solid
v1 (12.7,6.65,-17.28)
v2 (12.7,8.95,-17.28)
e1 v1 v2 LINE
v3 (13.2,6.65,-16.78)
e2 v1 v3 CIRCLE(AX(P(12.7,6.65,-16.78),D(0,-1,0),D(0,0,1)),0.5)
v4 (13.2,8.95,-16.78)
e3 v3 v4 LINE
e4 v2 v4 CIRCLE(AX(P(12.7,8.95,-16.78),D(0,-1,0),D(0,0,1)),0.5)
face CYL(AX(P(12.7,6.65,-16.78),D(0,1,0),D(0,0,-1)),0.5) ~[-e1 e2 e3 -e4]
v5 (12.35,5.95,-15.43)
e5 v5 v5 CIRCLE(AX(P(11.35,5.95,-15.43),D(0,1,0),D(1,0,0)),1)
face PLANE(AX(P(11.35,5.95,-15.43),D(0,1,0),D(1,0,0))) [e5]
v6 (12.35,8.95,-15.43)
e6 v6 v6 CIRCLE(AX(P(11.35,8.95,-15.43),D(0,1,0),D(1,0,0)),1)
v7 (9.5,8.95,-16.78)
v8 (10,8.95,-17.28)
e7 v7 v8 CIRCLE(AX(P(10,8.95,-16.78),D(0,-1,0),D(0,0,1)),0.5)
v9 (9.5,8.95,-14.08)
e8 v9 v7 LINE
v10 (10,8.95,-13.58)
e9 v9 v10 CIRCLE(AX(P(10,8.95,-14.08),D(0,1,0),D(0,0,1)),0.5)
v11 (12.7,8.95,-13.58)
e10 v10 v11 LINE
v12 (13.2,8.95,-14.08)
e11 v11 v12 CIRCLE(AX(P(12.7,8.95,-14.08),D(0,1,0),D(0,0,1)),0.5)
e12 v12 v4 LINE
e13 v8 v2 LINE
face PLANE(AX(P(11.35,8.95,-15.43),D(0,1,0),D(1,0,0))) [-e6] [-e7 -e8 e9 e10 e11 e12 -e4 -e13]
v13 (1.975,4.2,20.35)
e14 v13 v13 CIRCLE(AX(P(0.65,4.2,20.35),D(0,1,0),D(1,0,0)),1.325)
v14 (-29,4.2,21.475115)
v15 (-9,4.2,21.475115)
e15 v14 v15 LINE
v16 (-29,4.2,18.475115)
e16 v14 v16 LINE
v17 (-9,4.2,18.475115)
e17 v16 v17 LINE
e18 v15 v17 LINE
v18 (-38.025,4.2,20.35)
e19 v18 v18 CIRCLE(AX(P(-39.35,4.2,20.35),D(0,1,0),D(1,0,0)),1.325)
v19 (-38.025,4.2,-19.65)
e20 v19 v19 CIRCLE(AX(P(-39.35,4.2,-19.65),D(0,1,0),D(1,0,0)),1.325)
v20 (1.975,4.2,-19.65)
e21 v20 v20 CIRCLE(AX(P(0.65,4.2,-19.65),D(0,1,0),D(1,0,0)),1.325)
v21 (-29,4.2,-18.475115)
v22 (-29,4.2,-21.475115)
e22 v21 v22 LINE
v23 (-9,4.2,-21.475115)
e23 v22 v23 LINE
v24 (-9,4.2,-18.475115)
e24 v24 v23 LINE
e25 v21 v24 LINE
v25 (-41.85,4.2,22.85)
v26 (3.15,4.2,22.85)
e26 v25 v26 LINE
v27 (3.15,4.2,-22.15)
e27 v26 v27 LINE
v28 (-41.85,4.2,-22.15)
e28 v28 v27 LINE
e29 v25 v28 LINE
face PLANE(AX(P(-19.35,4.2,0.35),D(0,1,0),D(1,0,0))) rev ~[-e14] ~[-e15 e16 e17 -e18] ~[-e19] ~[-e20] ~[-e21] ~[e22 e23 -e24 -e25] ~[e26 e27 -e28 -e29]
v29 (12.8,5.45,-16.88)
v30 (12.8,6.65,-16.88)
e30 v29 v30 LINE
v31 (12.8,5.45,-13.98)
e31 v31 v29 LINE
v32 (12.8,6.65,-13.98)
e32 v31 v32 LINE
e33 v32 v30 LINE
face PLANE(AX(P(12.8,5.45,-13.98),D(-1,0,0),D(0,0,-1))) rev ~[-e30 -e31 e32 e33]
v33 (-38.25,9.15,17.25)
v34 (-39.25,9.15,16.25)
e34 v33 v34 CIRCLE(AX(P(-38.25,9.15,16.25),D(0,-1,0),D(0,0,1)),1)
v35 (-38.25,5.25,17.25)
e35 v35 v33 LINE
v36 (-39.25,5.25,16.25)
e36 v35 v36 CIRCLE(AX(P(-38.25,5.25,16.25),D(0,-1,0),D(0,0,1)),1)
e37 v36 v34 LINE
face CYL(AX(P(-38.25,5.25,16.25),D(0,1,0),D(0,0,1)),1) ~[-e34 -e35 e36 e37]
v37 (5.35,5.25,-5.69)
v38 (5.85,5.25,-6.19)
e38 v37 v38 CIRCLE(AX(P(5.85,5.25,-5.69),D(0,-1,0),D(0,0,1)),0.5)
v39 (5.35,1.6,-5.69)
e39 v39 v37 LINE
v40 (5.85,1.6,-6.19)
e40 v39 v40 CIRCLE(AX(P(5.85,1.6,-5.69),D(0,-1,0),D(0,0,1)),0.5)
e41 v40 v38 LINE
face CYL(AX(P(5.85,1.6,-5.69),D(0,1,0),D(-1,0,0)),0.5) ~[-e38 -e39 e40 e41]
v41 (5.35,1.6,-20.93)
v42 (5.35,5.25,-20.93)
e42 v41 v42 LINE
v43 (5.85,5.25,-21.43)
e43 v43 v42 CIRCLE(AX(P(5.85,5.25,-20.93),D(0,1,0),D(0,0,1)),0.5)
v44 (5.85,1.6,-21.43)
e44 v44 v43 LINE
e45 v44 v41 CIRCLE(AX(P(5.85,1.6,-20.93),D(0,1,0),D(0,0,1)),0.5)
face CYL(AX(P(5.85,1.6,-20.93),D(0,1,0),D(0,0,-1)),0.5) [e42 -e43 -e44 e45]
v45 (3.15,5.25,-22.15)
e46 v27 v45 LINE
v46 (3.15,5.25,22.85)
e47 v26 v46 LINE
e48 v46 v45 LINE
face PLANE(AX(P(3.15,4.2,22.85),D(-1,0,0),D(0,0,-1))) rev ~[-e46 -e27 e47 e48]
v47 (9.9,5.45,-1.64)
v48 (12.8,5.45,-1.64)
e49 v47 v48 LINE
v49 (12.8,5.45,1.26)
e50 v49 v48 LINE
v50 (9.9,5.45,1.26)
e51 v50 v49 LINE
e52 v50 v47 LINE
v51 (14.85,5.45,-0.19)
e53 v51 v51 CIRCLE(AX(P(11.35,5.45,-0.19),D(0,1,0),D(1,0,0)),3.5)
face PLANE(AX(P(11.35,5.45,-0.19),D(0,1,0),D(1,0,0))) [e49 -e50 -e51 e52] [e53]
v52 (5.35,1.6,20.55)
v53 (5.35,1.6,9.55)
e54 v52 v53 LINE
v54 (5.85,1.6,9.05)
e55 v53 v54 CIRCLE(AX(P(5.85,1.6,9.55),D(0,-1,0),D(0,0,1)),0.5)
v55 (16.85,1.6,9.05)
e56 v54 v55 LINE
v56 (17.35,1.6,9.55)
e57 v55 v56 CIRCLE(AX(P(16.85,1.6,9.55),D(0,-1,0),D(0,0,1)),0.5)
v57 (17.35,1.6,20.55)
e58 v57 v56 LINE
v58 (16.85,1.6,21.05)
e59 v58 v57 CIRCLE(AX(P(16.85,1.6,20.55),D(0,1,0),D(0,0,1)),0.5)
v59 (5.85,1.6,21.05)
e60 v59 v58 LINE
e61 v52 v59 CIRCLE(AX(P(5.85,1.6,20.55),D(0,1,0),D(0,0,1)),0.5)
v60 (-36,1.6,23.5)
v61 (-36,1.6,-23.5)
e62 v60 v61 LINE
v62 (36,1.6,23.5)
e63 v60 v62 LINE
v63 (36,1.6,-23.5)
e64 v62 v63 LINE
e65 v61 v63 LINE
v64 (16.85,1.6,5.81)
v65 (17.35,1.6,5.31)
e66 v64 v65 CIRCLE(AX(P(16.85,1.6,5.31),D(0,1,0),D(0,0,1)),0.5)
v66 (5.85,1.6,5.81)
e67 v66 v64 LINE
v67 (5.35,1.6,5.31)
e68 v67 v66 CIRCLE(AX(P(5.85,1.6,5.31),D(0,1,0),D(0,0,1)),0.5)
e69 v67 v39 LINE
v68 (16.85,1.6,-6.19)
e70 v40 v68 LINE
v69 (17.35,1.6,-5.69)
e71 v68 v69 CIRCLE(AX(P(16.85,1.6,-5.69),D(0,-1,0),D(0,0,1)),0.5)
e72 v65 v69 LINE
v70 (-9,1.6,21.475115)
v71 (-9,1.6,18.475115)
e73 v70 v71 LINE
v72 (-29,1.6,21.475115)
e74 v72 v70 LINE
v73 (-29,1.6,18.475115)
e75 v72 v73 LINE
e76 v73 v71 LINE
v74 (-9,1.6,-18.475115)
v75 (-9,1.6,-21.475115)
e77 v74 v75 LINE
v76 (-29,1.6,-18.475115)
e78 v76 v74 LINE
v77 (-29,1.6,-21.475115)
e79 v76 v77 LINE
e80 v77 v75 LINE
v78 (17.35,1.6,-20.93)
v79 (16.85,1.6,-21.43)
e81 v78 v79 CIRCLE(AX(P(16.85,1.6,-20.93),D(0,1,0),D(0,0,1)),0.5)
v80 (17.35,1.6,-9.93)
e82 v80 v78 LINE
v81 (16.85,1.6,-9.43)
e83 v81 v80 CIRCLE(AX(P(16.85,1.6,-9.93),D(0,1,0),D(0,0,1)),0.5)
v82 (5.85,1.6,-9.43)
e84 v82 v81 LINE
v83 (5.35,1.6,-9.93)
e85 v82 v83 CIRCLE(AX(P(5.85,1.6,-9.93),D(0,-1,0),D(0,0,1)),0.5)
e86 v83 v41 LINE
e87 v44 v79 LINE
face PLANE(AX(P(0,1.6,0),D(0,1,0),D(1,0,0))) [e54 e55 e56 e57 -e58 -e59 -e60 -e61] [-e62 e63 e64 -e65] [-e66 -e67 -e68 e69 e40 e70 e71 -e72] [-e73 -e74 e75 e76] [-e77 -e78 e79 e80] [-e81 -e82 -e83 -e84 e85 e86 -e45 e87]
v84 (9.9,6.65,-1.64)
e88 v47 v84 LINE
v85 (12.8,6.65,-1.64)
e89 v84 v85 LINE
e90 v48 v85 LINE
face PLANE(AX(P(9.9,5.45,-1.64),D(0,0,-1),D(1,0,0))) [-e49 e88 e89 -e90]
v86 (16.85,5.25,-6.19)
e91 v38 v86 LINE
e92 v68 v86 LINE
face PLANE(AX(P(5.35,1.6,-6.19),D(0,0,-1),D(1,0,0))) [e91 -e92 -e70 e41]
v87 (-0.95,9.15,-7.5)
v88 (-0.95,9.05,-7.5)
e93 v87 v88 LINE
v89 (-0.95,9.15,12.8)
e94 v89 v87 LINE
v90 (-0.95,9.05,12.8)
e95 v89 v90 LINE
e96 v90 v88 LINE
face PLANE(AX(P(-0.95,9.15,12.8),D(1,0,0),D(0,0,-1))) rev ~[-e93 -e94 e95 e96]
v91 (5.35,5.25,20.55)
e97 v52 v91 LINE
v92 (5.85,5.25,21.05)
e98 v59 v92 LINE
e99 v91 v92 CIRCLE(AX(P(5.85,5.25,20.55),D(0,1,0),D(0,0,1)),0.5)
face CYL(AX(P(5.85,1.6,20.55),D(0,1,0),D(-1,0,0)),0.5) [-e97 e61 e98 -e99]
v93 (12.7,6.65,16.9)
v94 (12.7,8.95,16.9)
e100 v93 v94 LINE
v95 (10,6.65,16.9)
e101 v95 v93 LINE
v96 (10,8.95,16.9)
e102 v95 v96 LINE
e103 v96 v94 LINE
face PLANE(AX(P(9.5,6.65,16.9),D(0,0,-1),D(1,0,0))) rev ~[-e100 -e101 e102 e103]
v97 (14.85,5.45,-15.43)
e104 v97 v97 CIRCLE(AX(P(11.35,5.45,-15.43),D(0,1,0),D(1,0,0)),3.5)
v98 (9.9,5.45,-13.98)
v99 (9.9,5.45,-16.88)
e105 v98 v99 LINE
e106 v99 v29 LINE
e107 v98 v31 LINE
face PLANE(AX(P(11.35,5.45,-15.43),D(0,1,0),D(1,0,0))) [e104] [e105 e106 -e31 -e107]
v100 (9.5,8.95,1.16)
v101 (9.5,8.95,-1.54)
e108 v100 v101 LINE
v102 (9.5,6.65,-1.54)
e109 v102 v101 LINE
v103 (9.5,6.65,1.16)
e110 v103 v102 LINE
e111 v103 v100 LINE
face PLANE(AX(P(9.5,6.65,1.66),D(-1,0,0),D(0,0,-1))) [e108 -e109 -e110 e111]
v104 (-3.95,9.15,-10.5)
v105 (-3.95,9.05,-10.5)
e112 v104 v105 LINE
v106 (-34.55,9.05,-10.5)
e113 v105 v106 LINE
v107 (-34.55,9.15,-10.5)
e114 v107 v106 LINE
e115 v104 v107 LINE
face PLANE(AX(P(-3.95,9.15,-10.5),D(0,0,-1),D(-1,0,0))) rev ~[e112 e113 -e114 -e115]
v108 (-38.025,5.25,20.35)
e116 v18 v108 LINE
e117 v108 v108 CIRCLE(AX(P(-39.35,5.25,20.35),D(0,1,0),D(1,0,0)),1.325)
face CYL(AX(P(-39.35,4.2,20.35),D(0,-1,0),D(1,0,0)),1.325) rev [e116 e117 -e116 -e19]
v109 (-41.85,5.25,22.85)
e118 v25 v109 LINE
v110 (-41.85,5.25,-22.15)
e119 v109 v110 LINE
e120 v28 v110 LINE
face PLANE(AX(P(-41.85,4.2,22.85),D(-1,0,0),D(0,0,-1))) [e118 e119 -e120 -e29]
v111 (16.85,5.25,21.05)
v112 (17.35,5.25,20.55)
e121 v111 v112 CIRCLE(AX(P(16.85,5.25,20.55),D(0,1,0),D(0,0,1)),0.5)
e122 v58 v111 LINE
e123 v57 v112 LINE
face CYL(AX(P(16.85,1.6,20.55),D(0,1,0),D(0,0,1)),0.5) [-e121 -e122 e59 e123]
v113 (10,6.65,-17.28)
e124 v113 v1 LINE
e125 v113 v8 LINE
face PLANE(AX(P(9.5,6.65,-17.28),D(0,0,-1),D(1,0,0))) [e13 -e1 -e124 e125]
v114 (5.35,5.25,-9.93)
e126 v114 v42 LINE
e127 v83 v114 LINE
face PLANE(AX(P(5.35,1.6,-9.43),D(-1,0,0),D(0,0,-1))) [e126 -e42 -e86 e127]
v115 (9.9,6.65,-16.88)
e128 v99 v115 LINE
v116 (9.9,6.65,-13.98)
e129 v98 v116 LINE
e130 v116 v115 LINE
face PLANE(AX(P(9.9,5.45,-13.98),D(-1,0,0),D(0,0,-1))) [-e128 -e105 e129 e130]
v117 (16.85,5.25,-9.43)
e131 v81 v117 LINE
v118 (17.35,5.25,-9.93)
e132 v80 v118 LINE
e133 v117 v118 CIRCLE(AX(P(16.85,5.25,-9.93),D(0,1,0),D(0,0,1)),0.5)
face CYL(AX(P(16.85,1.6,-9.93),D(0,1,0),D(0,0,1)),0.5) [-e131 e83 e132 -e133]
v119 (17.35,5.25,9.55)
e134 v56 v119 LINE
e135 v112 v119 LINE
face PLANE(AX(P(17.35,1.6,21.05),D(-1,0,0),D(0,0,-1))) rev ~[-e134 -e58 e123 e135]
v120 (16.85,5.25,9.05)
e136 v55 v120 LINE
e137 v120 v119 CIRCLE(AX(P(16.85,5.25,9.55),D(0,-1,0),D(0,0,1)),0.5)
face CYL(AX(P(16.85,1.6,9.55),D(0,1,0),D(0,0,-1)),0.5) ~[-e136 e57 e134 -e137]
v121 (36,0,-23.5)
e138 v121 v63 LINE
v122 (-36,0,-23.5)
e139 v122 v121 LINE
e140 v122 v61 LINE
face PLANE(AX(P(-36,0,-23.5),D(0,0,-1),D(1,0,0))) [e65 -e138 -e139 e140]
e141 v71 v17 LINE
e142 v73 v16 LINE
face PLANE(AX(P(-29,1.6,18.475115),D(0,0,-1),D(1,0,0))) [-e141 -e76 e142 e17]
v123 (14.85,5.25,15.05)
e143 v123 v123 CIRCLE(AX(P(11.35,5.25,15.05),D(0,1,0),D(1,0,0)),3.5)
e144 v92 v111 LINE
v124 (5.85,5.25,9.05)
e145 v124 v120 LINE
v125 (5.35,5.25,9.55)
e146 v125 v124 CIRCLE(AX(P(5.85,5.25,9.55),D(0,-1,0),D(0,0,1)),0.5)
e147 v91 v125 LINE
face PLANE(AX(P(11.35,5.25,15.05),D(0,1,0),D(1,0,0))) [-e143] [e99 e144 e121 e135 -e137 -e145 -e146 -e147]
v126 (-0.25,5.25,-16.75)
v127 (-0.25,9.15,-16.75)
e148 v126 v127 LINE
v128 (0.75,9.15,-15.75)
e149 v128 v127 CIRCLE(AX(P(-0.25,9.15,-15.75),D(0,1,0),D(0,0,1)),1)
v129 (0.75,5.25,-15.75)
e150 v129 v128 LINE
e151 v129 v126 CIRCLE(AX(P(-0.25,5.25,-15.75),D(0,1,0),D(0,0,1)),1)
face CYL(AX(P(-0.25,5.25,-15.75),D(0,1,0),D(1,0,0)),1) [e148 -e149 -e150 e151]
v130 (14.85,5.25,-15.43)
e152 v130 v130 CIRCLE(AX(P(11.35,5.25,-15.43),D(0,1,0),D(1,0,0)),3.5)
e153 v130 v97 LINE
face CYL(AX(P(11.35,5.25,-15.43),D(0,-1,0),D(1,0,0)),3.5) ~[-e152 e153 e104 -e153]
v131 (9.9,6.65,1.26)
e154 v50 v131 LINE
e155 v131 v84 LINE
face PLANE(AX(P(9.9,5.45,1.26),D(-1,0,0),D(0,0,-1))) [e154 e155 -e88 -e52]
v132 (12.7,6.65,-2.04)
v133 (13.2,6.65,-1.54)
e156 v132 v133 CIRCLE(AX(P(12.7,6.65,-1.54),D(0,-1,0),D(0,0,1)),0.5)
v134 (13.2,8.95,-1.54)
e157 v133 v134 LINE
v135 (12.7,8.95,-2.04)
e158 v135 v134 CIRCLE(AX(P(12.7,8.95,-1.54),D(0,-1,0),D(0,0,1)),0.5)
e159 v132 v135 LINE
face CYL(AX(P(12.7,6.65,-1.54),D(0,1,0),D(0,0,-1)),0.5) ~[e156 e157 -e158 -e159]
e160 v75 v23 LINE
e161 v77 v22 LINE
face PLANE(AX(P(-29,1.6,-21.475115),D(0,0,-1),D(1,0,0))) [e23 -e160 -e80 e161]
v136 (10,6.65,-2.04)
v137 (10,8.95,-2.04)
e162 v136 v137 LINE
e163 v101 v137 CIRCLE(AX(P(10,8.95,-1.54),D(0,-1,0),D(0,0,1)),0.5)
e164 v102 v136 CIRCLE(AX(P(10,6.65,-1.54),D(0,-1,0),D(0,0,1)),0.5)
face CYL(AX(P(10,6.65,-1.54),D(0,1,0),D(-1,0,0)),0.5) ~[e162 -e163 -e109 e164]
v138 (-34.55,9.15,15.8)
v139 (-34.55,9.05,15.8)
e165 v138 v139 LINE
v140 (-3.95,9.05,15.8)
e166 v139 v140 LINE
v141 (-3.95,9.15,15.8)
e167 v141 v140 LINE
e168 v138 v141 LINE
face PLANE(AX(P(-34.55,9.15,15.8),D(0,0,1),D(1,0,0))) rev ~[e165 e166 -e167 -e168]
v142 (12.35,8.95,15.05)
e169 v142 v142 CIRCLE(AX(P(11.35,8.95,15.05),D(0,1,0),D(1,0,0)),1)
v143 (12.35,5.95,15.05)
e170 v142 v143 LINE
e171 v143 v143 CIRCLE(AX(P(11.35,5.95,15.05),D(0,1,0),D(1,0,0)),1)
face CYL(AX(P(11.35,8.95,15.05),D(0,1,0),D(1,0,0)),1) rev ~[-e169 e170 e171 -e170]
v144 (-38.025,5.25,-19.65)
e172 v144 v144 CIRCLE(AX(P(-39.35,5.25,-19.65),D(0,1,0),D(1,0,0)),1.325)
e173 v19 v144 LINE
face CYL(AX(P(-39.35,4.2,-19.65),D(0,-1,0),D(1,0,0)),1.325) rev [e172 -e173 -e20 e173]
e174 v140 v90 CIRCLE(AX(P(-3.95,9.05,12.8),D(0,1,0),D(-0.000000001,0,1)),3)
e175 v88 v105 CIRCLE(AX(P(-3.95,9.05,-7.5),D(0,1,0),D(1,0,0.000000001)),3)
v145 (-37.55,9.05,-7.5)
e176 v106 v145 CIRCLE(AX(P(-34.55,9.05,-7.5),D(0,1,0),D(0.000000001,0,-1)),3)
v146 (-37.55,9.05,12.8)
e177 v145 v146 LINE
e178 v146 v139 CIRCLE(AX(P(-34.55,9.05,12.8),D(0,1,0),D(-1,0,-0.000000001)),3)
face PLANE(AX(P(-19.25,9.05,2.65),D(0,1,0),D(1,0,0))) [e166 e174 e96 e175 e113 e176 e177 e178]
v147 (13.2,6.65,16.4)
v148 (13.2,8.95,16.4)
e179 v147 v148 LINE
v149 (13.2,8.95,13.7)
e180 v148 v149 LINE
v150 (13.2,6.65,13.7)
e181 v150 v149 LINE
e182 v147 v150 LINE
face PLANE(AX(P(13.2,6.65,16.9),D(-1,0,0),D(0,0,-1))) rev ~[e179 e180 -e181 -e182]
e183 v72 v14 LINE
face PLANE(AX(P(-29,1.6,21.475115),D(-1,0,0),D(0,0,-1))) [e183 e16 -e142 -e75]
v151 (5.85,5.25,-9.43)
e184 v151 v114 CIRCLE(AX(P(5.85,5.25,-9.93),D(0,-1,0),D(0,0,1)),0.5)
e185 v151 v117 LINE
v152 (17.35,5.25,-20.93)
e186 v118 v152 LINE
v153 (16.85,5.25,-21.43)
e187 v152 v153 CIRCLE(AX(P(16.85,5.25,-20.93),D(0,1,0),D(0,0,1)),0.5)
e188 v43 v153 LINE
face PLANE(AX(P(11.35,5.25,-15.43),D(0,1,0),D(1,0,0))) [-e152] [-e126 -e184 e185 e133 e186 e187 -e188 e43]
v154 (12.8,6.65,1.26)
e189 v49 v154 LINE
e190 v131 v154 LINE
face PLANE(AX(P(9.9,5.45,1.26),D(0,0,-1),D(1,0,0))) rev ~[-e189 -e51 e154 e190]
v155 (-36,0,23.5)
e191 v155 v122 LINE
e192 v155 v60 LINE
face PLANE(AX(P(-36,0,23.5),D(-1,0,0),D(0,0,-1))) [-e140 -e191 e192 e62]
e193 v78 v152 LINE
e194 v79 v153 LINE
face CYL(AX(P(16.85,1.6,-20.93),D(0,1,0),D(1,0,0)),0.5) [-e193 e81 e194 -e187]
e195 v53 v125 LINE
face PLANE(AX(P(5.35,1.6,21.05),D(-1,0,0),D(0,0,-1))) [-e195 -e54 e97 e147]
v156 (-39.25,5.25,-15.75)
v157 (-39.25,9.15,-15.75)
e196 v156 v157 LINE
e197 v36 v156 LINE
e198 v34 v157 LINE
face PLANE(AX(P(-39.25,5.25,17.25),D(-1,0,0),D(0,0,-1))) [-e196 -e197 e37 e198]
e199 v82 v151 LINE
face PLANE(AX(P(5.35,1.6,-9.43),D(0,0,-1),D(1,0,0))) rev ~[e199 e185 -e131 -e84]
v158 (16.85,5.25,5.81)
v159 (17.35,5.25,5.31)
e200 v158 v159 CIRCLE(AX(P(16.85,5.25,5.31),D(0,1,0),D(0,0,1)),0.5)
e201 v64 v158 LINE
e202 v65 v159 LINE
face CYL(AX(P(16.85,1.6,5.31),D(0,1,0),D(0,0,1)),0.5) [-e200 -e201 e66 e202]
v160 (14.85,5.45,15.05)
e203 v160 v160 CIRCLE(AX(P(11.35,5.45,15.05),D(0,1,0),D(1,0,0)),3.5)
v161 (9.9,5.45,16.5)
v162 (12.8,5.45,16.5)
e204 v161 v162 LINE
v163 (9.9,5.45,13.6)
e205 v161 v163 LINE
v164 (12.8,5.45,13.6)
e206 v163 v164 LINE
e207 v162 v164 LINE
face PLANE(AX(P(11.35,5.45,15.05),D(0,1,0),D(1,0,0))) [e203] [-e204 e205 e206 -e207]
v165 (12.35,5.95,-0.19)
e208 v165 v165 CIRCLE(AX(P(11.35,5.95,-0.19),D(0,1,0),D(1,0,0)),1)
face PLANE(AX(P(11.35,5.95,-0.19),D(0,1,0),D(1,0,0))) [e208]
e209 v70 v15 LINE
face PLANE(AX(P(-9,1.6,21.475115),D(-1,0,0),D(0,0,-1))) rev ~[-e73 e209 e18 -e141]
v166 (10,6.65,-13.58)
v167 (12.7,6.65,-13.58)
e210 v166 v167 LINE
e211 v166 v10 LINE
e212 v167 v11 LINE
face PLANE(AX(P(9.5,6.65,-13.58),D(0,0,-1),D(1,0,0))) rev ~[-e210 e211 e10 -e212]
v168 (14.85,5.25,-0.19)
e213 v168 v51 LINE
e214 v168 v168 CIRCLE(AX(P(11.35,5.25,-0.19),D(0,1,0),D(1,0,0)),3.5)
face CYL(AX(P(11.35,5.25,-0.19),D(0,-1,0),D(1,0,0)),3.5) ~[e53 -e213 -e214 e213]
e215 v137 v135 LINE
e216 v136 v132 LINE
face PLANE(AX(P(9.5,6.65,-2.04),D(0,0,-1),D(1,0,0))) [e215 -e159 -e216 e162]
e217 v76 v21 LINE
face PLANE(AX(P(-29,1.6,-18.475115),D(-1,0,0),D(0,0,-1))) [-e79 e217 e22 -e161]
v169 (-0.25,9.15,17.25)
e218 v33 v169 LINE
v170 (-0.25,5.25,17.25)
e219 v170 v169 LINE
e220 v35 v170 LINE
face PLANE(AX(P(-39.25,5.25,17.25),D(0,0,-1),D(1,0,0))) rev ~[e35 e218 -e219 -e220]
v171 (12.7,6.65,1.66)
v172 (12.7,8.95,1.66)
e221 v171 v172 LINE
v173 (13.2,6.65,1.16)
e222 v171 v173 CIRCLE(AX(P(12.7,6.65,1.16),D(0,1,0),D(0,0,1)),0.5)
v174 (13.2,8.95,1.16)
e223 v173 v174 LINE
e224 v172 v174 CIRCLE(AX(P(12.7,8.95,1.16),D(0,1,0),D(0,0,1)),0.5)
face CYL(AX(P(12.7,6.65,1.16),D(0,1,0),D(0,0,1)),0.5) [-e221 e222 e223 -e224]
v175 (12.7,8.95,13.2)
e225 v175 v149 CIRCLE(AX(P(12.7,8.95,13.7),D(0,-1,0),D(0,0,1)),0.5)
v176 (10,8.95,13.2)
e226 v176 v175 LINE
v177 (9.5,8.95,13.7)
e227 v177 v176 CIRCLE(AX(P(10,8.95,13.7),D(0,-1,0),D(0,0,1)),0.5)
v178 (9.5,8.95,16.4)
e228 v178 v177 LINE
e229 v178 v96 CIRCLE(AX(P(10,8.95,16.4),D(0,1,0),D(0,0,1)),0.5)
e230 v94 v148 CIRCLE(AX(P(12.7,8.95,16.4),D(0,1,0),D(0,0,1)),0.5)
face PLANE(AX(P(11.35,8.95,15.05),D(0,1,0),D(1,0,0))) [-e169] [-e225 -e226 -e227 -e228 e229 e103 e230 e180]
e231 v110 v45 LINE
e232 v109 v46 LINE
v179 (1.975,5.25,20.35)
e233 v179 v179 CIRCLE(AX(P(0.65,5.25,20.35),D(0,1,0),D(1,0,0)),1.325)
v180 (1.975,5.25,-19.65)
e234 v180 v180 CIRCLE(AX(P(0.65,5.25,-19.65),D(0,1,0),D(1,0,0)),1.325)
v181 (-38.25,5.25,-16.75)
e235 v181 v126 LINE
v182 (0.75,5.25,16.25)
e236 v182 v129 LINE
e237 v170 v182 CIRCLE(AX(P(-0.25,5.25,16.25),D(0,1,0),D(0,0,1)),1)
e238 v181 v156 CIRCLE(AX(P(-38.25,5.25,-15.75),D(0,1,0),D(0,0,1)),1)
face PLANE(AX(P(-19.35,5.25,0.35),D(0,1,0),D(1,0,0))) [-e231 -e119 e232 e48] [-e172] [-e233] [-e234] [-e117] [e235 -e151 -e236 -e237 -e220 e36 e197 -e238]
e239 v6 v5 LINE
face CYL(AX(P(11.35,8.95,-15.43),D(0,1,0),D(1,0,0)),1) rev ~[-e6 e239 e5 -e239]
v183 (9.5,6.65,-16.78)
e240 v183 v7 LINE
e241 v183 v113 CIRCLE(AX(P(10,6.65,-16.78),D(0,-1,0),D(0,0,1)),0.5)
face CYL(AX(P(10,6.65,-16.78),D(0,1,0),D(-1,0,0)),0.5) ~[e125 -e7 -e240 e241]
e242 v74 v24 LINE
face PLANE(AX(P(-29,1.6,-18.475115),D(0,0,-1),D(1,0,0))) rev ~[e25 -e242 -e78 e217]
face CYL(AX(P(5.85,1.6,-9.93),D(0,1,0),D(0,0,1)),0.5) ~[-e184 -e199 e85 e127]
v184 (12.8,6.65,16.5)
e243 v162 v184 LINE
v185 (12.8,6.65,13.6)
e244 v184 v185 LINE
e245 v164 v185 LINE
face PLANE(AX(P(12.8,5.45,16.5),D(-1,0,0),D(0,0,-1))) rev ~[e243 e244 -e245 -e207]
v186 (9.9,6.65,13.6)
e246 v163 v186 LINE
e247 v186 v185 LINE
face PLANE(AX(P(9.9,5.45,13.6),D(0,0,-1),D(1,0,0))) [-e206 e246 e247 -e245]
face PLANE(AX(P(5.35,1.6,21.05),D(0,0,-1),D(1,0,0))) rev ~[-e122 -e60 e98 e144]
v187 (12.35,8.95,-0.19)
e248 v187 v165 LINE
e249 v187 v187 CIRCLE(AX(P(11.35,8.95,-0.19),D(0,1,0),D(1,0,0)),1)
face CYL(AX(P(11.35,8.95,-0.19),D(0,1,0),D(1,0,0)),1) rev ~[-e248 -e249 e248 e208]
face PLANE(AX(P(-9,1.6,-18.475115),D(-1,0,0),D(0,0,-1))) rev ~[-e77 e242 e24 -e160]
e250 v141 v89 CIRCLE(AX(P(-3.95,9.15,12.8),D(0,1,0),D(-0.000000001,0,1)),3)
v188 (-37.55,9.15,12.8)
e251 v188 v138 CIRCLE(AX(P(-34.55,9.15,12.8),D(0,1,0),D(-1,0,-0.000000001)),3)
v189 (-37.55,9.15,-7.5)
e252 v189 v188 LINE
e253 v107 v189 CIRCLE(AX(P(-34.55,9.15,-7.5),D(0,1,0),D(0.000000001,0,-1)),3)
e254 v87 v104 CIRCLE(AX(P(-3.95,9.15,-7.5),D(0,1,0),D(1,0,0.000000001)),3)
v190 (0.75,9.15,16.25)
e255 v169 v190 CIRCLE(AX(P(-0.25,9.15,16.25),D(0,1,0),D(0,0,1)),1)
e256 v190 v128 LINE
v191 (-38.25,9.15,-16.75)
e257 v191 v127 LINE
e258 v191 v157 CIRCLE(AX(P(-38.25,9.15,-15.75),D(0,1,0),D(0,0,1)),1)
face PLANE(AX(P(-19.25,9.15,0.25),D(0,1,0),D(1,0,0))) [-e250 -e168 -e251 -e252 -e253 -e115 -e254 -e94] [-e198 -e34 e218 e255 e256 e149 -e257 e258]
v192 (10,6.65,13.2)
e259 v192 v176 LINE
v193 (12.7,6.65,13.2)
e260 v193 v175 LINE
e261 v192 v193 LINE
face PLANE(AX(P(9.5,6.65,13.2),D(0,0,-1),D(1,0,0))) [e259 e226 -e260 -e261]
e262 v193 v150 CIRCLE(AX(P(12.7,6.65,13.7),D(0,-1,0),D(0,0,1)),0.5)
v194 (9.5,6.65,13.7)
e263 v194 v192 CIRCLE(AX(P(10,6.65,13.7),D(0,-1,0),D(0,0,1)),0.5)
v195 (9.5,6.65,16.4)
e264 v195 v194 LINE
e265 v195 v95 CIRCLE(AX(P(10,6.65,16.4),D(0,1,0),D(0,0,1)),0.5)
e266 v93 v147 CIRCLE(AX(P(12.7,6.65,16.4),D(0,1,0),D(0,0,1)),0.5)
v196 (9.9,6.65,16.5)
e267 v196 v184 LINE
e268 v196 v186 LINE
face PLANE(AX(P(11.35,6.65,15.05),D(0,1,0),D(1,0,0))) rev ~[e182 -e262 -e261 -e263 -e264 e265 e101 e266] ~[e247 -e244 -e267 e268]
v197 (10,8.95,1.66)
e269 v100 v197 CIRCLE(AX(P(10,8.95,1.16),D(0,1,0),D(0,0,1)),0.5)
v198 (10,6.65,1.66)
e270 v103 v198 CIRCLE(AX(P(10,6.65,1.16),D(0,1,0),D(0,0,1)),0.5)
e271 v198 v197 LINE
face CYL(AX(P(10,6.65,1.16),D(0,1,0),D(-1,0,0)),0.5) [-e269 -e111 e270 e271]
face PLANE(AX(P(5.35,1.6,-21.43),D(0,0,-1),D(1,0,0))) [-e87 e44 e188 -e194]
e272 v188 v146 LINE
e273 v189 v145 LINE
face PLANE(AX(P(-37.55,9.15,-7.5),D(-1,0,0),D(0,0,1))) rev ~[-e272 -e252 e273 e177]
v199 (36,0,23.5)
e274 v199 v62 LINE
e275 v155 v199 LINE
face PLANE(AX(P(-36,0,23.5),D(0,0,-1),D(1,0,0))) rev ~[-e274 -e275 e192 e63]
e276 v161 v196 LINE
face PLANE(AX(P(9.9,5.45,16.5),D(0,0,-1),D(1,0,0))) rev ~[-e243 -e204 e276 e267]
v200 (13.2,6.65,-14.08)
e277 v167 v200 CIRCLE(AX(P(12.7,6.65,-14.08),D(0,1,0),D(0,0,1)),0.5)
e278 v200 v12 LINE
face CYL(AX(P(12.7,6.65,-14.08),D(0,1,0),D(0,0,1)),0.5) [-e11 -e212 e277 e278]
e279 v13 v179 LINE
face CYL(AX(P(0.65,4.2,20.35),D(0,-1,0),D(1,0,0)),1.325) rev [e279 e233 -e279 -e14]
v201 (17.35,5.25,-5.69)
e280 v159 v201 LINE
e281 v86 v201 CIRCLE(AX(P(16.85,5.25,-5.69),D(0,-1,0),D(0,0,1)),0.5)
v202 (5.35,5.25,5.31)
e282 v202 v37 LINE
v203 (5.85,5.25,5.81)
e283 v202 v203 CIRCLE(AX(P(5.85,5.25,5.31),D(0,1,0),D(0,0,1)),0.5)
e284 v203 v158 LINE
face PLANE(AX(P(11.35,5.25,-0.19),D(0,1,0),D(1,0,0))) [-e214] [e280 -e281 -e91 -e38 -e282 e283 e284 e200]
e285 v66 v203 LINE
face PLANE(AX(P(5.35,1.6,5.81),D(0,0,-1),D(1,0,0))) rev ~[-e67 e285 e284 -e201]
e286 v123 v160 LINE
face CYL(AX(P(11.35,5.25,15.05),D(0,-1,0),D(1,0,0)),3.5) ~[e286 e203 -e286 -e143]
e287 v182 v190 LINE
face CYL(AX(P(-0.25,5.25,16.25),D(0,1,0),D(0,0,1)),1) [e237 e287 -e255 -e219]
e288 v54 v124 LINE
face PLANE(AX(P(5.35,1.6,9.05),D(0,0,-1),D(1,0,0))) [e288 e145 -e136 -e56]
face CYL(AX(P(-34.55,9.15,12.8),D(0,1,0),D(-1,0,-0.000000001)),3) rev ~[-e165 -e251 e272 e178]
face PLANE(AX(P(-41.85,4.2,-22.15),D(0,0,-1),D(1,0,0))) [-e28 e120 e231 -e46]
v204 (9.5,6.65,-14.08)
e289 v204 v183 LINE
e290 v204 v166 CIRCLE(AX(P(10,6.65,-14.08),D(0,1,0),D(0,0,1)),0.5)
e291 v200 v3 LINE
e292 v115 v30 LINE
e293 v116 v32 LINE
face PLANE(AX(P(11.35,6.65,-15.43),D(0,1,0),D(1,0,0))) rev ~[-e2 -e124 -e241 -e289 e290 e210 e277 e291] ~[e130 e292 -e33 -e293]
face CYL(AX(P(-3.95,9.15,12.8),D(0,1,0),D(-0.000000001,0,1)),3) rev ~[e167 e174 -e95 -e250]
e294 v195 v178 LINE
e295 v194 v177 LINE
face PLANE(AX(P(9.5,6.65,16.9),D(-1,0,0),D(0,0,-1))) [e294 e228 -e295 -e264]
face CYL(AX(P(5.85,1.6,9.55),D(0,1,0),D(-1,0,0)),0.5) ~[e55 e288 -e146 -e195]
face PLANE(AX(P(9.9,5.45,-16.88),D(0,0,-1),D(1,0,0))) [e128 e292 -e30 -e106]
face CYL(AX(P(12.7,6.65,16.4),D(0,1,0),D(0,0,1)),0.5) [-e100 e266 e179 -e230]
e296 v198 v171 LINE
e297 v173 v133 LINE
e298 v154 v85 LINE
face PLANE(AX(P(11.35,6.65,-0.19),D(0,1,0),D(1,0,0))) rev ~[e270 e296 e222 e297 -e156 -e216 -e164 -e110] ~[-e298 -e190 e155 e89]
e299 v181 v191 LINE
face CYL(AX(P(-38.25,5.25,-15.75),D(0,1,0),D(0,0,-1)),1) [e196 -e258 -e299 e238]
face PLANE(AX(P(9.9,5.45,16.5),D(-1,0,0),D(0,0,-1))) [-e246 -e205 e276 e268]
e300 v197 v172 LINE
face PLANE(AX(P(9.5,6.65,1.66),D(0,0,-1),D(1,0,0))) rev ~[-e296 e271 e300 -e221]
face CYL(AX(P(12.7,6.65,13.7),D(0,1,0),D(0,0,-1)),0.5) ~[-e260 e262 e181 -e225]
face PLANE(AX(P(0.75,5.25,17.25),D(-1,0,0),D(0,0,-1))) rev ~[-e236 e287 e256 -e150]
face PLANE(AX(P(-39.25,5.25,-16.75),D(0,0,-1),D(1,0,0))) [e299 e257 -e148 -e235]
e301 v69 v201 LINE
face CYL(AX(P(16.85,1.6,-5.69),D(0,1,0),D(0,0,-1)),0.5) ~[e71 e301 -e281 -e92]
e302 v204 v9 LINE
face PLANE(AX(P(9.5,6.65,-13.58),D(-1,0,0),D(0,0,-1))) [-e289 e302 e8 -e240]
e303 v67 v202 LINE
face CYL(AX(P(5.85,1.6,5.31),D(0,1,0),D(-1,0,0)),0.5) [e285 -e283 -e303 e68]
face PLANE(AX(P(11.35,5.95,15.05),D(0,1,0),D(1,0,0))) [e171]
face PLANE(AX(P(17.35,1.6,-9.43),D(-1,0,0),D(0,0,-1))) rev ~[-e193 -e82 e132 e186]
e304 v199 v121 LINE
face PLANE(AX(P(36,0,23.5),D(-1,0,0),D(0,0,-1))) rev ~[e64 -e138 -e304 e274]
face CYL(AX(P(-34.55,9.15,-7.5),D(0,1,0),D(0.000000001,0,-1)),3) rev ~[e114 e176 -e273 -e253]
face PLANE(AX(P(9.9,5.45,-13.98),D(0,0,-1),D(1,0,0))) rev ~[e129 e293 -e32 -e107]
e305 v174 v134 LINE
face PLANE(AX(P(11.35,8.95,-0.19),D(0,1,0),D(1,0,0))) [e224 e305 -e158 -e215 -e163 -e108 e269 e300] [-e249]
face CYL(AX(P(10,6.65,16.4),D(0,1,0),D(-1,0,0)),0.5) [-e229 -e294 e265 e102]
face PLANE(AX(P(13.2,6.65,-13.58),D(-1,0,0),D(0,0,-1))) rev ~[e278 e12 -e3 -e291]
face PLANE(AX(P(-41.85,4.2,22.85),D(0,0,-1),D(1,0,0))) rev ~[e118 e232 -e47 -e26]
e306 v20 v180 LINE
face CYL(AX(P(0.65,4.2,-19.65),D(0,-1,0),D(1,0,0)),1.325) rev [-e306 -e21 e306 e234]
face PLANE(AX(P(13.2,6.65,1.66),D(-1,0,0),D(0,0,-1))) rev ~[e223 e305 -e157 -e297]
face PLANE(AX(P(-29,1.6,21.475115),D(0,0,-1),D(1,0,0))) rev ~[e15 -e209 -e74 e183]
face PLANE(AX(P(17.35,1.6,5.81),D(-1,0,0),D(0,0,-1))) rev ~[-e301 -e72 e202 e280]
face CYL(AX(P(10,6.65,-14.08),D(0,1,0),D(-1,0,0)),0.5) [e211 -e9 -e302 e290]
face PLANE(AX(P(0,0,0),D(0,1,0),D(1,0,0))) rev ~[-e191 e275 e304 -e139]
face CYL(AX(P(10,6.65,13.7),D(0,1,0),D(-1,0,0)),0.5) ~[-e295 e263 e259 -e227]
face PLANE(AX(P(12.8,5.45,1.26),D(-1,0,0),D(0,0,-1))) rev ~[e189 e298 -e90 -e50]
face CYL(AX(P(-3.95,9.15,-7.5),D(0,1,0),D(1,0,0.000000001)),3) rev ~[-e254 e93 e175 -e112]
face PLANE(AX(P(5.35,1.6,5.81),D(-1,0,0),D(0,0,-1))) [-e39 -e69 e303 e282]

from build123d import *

# Parameters (mm, degrees)
SKETCH1_W              = 72
SKETCH1_H              = 47
BOSS_EXTRUDE1_DEPTH    = 1.6
SKETCH2_W              = 20
SKETCH2_H              = 3
BOSS_EXTRUDE2_DEPTH    = 2.6
SKETCH3_W              = 45
SKETCH3_H              = 45
SKETCH3_R              = 1.325
BOSS_EXTRUDE3_DEPTH    = 1.05
SKETCH4_W              = 40
SKETCH4_H              = 34
BOSS_EXTRUDE4_DEPTH    = 3.9
CUT_EXTRUDE1_DEPTH     = 0.1
FILLET1_R              = 1
SKETCH6_W              = 12
SKETCH6_H              = 12
BOSS_EXTRUDE5_DEPTH    = 3.65
SKETCH7_R              = 3.5
BOSS_EXTRUDE6_DEPTH    = 0.2
SKETCH8_W              = 2.9
SKETCH8_H              = 2.9
BOSS_EXTRUDE7_DEPTH    = 1.2
SKETCH9_W              = 3.7
SKETCH9_H              = 3.7
BOSS_EXTRUDE8_DEPTH    = 2.3
FILLET2_R              = 0.5
SKETCH10_R             = 1
CUT_EXTRUDE2_DEPTH     = 3
LPATTERN1_COUNT        = 3
LPATTERN1_PITCH        = 15.24
FILLET2_OF_LPATTERN1_R = 0.5


with BuildPart() as part:
    # Sketch1 → Boss-Extrude1 (new body)
    with BuildSketch(Plane(origin=(0, 0, 0), x_dir=(1, 0, 0), z_dir=(0, 1, 0))):
        Rectangle(SKETCH1_W, SKETCH1_H)
    extrude(amount=BOSS_EXTRUDE1_DEPTH)

    # Sketch2 → Boss-Extrude2 (add)
    with BuildSketch(Plane(origin=(0, 1.6, 0), x_dir=(1, 0, 0), z_dir=(0, 1, 0))):
        with Locations((-19, -19.975114796)):
            Rectangle(SKETCH2_W, SKETCH2_H)
        with Locations((-19, 19.975114796)):
            Rectangle(SKETCH2_W, SKETCH2_H)
    extrude(amount=BOSS_EXTRUDE2_DEPTH)

    # Sketch3 → Boss-Extrude3 (add)
    with BuildSketch(Plane(origin=(0, 4.2, 0), x_dir=(1, 0, 0), z_dir=(0, 1, 0))):
        with Locations((-19.35, -0.35)):
            Rectangle(SKETCH3_W, SKETCH3_H)
        with Locations((-39.35, 19.65)):
            Circle(SKETCH3_R, mode=Mode.SUBTRACT)
        with Locations((0.65, 19.65)):
            Circle(SKETCH3_R, mode=Mode.SUBTRACT)
        with Locations((0.65, -20.35)):
            Circle(SKETCH3_R, mode=Mode.SUBTRACT)
        with Locations((-39.35, -20.35)):
            Circle(SKETCH3_R, mode=Mode.SUBTRACT)
    extrude(amount=BOSS_EXTRUDE3_DEPTH)

    # Sketch4 → Boss-Extrude4 (add)
    with BuildSketch(Plane(origin=(0, 5.25, 0), x_dir=(1, 0, 0), z_dir=(0, 1, 0))):
        with Locations((-19.25, -0.25)):
            Rectangle(SKETCH4_W, SKETCH4_H)
    extrude(amount=BOSS_EXTRUDE4_DEPTH)

    # Sketch5 → Cut-Extrude1 (cut)
    with BuildSketch(Plane(origin=(0, 9.15, 0), x_dir=(1, 0, 0), z_dir=(0, 1, 0))):
        with BuildLine():
            Line((-34.55, -15.8), (-3.95, -15.8))
            ThreePointArc((-3.95, -15.8), (-1.828679656, -14.921320344), (-0.95, -12.8))
            Line((-0.95, -12.8), (-0.95, 7.5))
            ThreePointArc((-0.95, 7.5), (-1.828679656, 9.621320344), (-3.95, 10.5))
            Line((-3.95, 10.5), (-34.55, 10.5))
            ThreePointArc((-34.55, 10.5), (-36.671320344, 9.621320344), (-37.55, 7.5))
            Line((-37.55, 7.5), (-37.55, -12.8))
            ThreePointArc((-37.55, -12.8), (-36.671320344, -14.921320344), (-34.55, -15.8))
        make_face()
    extrude(amount=-CUT_EXTRUDE1_DEPTH, mode=Mode.SUBTRACT)

    # Fillet1
    fillet1_edges = [part.edges().sort_by_distance(p)[0] for p in [
        (-39.25, 7.2, -16.75),
        (-39.25, 7.2, 17.25),
        (0.75, 7.2, 17.25),
        (0.75, 7.2, -16.75),
    ]]
    fillet(fillet1_edges, radius=FILLET1_R)

    # Sketch6 → Boss-Extrude5 (add)
    with BuildSketch(Plane(origin=(0, 1.6, 0), x_dir=(1, 0, 0), z_dir=(0, 1, 0))):
        with Locations((11.35, -15.05)):
            Rectangle(SKETCH6_W, SKETCH6_H)
    boss_extrude5 = extrude(amount=BOSS_EXTRUDE5_DEPTH)

    # Sketch7 → Boss-Extrude6 (add)
    with BuildSketch(Plane(origin=(0, 5.25, 0), x_dir=(1, 0, 0), z_dir=(0, 1, 0))):
        with Locations((11.35, -15.05)):
            Circle(SKETCH7_R)
    boss_extrude6 = extrude(amount=BOSS_EXTRUDE6_DEPTH)

    # Sketch8 → Boss-Extrude7 (add)
    with BuildSketch(Plane(origin=(0, 5.45, 0), x_dir=(1, 0, 0), z_dir=(0, 1, 0))):
        with Locations((11.35, -15.05)):
            Rectangle(SKETCH8_W, SKETCH8_H)
    boss_extrude7 = extrude(amount=BOSS_EXTRUDE7_DEPTH)

    # Sketch9 → Boss-Extrude8 (add)
    with BuildSketch(Plane(origin=(0, 6.65, 0), x_dir=(1, 0, 0), z_dir=(0, 1, 0))):
        with Locations((11.35, -15.05)):
            Rectangle(SKETCH9_W, SKETCH9_H)
    boss_extrude8 = extrude(amount=BOSS_EXTRUDE8_DEPTH)

    # Fillet2
    fillet2_edges = [part.edges().sort_by_distance(p)[0] for p in [
        (5.35, 3.425, 9.05),
        (5.35, 3.425, 21.05),
        (17.35, 3.425, 21.05),
        (17.35, 3.425, 9.05),
        (9.5, 7.8, 13.2),
        (9.5, 7.8, 16.9),
        (13.2, 7.8, 16.9),
        (13.2, 7.8, 13.2),
    ]]
    fillet(fillet2_edges, radius=FILLET2_R)

    # Sketch10 → Cut-Extrude2 (cut)
    with BuildSketch(Plane(origin=(0, 8.95, 0), x_dir=(1, 0, 0), z_dir=(0, 1, 0))):
        with Locations((11.35, -15.05)):
            Circle(SKETCH10_R)
    cut_extrude2 = extrude(amount=-CUT_EXTRUDE2_DEPTH, mode=Mode.SUBTRACT)

    # LPattern1: Boss-Extrude5, Boss-Extrude6, Boss-Extrude7, Boss-Extrude8, Cut-Extrude2 ×3
    with Locations(*[(0, 0, -i * LPATTERN1_PITCH) for i in range(1, LPATTERN1_COUNT)]):
        add(boss_extrude5)
        add(boss_extrude6)
        add(boss_extrude7)
        add(boss_extrude8)
        add(cut_extrude2, mode=Mode.SUBTRACT)

    # Fillet2 of LPattern1
    fillet2_of_lpattern1_edges = [part.edges().sort_by_distance(p)[0] for p in [
        (5.35, 3.425, -6.19),
        (5.35, 3.425, 5.81),
        (17.35, 3.425, 5.81),
        (17.35, 3.425, -6.19),
        (9.5, 7.8, -2.04),
        (9.5, 7.8, 1.66),
        (13.2, 7.8, 1.66),
        (13.2, 7.8, -2.04),
        (5.35, 3.425, -21.43),
        (5.35, 3.425, -9.43),
        (17.35, 3.425, -9.43),
        (17.35, 3.425, -21.43),
        (9.5, 7.8, -17.28),
        (9.5, 7.8, -13.58),
        (13.2, 7.8, -13.58),
        (13.2, 7.8, -17.28),
    ]]
    fillet(fillet2_of_lpattern1_edges, radius=FILLET2_OF_LPATTERN1_R)


solid = part.part
